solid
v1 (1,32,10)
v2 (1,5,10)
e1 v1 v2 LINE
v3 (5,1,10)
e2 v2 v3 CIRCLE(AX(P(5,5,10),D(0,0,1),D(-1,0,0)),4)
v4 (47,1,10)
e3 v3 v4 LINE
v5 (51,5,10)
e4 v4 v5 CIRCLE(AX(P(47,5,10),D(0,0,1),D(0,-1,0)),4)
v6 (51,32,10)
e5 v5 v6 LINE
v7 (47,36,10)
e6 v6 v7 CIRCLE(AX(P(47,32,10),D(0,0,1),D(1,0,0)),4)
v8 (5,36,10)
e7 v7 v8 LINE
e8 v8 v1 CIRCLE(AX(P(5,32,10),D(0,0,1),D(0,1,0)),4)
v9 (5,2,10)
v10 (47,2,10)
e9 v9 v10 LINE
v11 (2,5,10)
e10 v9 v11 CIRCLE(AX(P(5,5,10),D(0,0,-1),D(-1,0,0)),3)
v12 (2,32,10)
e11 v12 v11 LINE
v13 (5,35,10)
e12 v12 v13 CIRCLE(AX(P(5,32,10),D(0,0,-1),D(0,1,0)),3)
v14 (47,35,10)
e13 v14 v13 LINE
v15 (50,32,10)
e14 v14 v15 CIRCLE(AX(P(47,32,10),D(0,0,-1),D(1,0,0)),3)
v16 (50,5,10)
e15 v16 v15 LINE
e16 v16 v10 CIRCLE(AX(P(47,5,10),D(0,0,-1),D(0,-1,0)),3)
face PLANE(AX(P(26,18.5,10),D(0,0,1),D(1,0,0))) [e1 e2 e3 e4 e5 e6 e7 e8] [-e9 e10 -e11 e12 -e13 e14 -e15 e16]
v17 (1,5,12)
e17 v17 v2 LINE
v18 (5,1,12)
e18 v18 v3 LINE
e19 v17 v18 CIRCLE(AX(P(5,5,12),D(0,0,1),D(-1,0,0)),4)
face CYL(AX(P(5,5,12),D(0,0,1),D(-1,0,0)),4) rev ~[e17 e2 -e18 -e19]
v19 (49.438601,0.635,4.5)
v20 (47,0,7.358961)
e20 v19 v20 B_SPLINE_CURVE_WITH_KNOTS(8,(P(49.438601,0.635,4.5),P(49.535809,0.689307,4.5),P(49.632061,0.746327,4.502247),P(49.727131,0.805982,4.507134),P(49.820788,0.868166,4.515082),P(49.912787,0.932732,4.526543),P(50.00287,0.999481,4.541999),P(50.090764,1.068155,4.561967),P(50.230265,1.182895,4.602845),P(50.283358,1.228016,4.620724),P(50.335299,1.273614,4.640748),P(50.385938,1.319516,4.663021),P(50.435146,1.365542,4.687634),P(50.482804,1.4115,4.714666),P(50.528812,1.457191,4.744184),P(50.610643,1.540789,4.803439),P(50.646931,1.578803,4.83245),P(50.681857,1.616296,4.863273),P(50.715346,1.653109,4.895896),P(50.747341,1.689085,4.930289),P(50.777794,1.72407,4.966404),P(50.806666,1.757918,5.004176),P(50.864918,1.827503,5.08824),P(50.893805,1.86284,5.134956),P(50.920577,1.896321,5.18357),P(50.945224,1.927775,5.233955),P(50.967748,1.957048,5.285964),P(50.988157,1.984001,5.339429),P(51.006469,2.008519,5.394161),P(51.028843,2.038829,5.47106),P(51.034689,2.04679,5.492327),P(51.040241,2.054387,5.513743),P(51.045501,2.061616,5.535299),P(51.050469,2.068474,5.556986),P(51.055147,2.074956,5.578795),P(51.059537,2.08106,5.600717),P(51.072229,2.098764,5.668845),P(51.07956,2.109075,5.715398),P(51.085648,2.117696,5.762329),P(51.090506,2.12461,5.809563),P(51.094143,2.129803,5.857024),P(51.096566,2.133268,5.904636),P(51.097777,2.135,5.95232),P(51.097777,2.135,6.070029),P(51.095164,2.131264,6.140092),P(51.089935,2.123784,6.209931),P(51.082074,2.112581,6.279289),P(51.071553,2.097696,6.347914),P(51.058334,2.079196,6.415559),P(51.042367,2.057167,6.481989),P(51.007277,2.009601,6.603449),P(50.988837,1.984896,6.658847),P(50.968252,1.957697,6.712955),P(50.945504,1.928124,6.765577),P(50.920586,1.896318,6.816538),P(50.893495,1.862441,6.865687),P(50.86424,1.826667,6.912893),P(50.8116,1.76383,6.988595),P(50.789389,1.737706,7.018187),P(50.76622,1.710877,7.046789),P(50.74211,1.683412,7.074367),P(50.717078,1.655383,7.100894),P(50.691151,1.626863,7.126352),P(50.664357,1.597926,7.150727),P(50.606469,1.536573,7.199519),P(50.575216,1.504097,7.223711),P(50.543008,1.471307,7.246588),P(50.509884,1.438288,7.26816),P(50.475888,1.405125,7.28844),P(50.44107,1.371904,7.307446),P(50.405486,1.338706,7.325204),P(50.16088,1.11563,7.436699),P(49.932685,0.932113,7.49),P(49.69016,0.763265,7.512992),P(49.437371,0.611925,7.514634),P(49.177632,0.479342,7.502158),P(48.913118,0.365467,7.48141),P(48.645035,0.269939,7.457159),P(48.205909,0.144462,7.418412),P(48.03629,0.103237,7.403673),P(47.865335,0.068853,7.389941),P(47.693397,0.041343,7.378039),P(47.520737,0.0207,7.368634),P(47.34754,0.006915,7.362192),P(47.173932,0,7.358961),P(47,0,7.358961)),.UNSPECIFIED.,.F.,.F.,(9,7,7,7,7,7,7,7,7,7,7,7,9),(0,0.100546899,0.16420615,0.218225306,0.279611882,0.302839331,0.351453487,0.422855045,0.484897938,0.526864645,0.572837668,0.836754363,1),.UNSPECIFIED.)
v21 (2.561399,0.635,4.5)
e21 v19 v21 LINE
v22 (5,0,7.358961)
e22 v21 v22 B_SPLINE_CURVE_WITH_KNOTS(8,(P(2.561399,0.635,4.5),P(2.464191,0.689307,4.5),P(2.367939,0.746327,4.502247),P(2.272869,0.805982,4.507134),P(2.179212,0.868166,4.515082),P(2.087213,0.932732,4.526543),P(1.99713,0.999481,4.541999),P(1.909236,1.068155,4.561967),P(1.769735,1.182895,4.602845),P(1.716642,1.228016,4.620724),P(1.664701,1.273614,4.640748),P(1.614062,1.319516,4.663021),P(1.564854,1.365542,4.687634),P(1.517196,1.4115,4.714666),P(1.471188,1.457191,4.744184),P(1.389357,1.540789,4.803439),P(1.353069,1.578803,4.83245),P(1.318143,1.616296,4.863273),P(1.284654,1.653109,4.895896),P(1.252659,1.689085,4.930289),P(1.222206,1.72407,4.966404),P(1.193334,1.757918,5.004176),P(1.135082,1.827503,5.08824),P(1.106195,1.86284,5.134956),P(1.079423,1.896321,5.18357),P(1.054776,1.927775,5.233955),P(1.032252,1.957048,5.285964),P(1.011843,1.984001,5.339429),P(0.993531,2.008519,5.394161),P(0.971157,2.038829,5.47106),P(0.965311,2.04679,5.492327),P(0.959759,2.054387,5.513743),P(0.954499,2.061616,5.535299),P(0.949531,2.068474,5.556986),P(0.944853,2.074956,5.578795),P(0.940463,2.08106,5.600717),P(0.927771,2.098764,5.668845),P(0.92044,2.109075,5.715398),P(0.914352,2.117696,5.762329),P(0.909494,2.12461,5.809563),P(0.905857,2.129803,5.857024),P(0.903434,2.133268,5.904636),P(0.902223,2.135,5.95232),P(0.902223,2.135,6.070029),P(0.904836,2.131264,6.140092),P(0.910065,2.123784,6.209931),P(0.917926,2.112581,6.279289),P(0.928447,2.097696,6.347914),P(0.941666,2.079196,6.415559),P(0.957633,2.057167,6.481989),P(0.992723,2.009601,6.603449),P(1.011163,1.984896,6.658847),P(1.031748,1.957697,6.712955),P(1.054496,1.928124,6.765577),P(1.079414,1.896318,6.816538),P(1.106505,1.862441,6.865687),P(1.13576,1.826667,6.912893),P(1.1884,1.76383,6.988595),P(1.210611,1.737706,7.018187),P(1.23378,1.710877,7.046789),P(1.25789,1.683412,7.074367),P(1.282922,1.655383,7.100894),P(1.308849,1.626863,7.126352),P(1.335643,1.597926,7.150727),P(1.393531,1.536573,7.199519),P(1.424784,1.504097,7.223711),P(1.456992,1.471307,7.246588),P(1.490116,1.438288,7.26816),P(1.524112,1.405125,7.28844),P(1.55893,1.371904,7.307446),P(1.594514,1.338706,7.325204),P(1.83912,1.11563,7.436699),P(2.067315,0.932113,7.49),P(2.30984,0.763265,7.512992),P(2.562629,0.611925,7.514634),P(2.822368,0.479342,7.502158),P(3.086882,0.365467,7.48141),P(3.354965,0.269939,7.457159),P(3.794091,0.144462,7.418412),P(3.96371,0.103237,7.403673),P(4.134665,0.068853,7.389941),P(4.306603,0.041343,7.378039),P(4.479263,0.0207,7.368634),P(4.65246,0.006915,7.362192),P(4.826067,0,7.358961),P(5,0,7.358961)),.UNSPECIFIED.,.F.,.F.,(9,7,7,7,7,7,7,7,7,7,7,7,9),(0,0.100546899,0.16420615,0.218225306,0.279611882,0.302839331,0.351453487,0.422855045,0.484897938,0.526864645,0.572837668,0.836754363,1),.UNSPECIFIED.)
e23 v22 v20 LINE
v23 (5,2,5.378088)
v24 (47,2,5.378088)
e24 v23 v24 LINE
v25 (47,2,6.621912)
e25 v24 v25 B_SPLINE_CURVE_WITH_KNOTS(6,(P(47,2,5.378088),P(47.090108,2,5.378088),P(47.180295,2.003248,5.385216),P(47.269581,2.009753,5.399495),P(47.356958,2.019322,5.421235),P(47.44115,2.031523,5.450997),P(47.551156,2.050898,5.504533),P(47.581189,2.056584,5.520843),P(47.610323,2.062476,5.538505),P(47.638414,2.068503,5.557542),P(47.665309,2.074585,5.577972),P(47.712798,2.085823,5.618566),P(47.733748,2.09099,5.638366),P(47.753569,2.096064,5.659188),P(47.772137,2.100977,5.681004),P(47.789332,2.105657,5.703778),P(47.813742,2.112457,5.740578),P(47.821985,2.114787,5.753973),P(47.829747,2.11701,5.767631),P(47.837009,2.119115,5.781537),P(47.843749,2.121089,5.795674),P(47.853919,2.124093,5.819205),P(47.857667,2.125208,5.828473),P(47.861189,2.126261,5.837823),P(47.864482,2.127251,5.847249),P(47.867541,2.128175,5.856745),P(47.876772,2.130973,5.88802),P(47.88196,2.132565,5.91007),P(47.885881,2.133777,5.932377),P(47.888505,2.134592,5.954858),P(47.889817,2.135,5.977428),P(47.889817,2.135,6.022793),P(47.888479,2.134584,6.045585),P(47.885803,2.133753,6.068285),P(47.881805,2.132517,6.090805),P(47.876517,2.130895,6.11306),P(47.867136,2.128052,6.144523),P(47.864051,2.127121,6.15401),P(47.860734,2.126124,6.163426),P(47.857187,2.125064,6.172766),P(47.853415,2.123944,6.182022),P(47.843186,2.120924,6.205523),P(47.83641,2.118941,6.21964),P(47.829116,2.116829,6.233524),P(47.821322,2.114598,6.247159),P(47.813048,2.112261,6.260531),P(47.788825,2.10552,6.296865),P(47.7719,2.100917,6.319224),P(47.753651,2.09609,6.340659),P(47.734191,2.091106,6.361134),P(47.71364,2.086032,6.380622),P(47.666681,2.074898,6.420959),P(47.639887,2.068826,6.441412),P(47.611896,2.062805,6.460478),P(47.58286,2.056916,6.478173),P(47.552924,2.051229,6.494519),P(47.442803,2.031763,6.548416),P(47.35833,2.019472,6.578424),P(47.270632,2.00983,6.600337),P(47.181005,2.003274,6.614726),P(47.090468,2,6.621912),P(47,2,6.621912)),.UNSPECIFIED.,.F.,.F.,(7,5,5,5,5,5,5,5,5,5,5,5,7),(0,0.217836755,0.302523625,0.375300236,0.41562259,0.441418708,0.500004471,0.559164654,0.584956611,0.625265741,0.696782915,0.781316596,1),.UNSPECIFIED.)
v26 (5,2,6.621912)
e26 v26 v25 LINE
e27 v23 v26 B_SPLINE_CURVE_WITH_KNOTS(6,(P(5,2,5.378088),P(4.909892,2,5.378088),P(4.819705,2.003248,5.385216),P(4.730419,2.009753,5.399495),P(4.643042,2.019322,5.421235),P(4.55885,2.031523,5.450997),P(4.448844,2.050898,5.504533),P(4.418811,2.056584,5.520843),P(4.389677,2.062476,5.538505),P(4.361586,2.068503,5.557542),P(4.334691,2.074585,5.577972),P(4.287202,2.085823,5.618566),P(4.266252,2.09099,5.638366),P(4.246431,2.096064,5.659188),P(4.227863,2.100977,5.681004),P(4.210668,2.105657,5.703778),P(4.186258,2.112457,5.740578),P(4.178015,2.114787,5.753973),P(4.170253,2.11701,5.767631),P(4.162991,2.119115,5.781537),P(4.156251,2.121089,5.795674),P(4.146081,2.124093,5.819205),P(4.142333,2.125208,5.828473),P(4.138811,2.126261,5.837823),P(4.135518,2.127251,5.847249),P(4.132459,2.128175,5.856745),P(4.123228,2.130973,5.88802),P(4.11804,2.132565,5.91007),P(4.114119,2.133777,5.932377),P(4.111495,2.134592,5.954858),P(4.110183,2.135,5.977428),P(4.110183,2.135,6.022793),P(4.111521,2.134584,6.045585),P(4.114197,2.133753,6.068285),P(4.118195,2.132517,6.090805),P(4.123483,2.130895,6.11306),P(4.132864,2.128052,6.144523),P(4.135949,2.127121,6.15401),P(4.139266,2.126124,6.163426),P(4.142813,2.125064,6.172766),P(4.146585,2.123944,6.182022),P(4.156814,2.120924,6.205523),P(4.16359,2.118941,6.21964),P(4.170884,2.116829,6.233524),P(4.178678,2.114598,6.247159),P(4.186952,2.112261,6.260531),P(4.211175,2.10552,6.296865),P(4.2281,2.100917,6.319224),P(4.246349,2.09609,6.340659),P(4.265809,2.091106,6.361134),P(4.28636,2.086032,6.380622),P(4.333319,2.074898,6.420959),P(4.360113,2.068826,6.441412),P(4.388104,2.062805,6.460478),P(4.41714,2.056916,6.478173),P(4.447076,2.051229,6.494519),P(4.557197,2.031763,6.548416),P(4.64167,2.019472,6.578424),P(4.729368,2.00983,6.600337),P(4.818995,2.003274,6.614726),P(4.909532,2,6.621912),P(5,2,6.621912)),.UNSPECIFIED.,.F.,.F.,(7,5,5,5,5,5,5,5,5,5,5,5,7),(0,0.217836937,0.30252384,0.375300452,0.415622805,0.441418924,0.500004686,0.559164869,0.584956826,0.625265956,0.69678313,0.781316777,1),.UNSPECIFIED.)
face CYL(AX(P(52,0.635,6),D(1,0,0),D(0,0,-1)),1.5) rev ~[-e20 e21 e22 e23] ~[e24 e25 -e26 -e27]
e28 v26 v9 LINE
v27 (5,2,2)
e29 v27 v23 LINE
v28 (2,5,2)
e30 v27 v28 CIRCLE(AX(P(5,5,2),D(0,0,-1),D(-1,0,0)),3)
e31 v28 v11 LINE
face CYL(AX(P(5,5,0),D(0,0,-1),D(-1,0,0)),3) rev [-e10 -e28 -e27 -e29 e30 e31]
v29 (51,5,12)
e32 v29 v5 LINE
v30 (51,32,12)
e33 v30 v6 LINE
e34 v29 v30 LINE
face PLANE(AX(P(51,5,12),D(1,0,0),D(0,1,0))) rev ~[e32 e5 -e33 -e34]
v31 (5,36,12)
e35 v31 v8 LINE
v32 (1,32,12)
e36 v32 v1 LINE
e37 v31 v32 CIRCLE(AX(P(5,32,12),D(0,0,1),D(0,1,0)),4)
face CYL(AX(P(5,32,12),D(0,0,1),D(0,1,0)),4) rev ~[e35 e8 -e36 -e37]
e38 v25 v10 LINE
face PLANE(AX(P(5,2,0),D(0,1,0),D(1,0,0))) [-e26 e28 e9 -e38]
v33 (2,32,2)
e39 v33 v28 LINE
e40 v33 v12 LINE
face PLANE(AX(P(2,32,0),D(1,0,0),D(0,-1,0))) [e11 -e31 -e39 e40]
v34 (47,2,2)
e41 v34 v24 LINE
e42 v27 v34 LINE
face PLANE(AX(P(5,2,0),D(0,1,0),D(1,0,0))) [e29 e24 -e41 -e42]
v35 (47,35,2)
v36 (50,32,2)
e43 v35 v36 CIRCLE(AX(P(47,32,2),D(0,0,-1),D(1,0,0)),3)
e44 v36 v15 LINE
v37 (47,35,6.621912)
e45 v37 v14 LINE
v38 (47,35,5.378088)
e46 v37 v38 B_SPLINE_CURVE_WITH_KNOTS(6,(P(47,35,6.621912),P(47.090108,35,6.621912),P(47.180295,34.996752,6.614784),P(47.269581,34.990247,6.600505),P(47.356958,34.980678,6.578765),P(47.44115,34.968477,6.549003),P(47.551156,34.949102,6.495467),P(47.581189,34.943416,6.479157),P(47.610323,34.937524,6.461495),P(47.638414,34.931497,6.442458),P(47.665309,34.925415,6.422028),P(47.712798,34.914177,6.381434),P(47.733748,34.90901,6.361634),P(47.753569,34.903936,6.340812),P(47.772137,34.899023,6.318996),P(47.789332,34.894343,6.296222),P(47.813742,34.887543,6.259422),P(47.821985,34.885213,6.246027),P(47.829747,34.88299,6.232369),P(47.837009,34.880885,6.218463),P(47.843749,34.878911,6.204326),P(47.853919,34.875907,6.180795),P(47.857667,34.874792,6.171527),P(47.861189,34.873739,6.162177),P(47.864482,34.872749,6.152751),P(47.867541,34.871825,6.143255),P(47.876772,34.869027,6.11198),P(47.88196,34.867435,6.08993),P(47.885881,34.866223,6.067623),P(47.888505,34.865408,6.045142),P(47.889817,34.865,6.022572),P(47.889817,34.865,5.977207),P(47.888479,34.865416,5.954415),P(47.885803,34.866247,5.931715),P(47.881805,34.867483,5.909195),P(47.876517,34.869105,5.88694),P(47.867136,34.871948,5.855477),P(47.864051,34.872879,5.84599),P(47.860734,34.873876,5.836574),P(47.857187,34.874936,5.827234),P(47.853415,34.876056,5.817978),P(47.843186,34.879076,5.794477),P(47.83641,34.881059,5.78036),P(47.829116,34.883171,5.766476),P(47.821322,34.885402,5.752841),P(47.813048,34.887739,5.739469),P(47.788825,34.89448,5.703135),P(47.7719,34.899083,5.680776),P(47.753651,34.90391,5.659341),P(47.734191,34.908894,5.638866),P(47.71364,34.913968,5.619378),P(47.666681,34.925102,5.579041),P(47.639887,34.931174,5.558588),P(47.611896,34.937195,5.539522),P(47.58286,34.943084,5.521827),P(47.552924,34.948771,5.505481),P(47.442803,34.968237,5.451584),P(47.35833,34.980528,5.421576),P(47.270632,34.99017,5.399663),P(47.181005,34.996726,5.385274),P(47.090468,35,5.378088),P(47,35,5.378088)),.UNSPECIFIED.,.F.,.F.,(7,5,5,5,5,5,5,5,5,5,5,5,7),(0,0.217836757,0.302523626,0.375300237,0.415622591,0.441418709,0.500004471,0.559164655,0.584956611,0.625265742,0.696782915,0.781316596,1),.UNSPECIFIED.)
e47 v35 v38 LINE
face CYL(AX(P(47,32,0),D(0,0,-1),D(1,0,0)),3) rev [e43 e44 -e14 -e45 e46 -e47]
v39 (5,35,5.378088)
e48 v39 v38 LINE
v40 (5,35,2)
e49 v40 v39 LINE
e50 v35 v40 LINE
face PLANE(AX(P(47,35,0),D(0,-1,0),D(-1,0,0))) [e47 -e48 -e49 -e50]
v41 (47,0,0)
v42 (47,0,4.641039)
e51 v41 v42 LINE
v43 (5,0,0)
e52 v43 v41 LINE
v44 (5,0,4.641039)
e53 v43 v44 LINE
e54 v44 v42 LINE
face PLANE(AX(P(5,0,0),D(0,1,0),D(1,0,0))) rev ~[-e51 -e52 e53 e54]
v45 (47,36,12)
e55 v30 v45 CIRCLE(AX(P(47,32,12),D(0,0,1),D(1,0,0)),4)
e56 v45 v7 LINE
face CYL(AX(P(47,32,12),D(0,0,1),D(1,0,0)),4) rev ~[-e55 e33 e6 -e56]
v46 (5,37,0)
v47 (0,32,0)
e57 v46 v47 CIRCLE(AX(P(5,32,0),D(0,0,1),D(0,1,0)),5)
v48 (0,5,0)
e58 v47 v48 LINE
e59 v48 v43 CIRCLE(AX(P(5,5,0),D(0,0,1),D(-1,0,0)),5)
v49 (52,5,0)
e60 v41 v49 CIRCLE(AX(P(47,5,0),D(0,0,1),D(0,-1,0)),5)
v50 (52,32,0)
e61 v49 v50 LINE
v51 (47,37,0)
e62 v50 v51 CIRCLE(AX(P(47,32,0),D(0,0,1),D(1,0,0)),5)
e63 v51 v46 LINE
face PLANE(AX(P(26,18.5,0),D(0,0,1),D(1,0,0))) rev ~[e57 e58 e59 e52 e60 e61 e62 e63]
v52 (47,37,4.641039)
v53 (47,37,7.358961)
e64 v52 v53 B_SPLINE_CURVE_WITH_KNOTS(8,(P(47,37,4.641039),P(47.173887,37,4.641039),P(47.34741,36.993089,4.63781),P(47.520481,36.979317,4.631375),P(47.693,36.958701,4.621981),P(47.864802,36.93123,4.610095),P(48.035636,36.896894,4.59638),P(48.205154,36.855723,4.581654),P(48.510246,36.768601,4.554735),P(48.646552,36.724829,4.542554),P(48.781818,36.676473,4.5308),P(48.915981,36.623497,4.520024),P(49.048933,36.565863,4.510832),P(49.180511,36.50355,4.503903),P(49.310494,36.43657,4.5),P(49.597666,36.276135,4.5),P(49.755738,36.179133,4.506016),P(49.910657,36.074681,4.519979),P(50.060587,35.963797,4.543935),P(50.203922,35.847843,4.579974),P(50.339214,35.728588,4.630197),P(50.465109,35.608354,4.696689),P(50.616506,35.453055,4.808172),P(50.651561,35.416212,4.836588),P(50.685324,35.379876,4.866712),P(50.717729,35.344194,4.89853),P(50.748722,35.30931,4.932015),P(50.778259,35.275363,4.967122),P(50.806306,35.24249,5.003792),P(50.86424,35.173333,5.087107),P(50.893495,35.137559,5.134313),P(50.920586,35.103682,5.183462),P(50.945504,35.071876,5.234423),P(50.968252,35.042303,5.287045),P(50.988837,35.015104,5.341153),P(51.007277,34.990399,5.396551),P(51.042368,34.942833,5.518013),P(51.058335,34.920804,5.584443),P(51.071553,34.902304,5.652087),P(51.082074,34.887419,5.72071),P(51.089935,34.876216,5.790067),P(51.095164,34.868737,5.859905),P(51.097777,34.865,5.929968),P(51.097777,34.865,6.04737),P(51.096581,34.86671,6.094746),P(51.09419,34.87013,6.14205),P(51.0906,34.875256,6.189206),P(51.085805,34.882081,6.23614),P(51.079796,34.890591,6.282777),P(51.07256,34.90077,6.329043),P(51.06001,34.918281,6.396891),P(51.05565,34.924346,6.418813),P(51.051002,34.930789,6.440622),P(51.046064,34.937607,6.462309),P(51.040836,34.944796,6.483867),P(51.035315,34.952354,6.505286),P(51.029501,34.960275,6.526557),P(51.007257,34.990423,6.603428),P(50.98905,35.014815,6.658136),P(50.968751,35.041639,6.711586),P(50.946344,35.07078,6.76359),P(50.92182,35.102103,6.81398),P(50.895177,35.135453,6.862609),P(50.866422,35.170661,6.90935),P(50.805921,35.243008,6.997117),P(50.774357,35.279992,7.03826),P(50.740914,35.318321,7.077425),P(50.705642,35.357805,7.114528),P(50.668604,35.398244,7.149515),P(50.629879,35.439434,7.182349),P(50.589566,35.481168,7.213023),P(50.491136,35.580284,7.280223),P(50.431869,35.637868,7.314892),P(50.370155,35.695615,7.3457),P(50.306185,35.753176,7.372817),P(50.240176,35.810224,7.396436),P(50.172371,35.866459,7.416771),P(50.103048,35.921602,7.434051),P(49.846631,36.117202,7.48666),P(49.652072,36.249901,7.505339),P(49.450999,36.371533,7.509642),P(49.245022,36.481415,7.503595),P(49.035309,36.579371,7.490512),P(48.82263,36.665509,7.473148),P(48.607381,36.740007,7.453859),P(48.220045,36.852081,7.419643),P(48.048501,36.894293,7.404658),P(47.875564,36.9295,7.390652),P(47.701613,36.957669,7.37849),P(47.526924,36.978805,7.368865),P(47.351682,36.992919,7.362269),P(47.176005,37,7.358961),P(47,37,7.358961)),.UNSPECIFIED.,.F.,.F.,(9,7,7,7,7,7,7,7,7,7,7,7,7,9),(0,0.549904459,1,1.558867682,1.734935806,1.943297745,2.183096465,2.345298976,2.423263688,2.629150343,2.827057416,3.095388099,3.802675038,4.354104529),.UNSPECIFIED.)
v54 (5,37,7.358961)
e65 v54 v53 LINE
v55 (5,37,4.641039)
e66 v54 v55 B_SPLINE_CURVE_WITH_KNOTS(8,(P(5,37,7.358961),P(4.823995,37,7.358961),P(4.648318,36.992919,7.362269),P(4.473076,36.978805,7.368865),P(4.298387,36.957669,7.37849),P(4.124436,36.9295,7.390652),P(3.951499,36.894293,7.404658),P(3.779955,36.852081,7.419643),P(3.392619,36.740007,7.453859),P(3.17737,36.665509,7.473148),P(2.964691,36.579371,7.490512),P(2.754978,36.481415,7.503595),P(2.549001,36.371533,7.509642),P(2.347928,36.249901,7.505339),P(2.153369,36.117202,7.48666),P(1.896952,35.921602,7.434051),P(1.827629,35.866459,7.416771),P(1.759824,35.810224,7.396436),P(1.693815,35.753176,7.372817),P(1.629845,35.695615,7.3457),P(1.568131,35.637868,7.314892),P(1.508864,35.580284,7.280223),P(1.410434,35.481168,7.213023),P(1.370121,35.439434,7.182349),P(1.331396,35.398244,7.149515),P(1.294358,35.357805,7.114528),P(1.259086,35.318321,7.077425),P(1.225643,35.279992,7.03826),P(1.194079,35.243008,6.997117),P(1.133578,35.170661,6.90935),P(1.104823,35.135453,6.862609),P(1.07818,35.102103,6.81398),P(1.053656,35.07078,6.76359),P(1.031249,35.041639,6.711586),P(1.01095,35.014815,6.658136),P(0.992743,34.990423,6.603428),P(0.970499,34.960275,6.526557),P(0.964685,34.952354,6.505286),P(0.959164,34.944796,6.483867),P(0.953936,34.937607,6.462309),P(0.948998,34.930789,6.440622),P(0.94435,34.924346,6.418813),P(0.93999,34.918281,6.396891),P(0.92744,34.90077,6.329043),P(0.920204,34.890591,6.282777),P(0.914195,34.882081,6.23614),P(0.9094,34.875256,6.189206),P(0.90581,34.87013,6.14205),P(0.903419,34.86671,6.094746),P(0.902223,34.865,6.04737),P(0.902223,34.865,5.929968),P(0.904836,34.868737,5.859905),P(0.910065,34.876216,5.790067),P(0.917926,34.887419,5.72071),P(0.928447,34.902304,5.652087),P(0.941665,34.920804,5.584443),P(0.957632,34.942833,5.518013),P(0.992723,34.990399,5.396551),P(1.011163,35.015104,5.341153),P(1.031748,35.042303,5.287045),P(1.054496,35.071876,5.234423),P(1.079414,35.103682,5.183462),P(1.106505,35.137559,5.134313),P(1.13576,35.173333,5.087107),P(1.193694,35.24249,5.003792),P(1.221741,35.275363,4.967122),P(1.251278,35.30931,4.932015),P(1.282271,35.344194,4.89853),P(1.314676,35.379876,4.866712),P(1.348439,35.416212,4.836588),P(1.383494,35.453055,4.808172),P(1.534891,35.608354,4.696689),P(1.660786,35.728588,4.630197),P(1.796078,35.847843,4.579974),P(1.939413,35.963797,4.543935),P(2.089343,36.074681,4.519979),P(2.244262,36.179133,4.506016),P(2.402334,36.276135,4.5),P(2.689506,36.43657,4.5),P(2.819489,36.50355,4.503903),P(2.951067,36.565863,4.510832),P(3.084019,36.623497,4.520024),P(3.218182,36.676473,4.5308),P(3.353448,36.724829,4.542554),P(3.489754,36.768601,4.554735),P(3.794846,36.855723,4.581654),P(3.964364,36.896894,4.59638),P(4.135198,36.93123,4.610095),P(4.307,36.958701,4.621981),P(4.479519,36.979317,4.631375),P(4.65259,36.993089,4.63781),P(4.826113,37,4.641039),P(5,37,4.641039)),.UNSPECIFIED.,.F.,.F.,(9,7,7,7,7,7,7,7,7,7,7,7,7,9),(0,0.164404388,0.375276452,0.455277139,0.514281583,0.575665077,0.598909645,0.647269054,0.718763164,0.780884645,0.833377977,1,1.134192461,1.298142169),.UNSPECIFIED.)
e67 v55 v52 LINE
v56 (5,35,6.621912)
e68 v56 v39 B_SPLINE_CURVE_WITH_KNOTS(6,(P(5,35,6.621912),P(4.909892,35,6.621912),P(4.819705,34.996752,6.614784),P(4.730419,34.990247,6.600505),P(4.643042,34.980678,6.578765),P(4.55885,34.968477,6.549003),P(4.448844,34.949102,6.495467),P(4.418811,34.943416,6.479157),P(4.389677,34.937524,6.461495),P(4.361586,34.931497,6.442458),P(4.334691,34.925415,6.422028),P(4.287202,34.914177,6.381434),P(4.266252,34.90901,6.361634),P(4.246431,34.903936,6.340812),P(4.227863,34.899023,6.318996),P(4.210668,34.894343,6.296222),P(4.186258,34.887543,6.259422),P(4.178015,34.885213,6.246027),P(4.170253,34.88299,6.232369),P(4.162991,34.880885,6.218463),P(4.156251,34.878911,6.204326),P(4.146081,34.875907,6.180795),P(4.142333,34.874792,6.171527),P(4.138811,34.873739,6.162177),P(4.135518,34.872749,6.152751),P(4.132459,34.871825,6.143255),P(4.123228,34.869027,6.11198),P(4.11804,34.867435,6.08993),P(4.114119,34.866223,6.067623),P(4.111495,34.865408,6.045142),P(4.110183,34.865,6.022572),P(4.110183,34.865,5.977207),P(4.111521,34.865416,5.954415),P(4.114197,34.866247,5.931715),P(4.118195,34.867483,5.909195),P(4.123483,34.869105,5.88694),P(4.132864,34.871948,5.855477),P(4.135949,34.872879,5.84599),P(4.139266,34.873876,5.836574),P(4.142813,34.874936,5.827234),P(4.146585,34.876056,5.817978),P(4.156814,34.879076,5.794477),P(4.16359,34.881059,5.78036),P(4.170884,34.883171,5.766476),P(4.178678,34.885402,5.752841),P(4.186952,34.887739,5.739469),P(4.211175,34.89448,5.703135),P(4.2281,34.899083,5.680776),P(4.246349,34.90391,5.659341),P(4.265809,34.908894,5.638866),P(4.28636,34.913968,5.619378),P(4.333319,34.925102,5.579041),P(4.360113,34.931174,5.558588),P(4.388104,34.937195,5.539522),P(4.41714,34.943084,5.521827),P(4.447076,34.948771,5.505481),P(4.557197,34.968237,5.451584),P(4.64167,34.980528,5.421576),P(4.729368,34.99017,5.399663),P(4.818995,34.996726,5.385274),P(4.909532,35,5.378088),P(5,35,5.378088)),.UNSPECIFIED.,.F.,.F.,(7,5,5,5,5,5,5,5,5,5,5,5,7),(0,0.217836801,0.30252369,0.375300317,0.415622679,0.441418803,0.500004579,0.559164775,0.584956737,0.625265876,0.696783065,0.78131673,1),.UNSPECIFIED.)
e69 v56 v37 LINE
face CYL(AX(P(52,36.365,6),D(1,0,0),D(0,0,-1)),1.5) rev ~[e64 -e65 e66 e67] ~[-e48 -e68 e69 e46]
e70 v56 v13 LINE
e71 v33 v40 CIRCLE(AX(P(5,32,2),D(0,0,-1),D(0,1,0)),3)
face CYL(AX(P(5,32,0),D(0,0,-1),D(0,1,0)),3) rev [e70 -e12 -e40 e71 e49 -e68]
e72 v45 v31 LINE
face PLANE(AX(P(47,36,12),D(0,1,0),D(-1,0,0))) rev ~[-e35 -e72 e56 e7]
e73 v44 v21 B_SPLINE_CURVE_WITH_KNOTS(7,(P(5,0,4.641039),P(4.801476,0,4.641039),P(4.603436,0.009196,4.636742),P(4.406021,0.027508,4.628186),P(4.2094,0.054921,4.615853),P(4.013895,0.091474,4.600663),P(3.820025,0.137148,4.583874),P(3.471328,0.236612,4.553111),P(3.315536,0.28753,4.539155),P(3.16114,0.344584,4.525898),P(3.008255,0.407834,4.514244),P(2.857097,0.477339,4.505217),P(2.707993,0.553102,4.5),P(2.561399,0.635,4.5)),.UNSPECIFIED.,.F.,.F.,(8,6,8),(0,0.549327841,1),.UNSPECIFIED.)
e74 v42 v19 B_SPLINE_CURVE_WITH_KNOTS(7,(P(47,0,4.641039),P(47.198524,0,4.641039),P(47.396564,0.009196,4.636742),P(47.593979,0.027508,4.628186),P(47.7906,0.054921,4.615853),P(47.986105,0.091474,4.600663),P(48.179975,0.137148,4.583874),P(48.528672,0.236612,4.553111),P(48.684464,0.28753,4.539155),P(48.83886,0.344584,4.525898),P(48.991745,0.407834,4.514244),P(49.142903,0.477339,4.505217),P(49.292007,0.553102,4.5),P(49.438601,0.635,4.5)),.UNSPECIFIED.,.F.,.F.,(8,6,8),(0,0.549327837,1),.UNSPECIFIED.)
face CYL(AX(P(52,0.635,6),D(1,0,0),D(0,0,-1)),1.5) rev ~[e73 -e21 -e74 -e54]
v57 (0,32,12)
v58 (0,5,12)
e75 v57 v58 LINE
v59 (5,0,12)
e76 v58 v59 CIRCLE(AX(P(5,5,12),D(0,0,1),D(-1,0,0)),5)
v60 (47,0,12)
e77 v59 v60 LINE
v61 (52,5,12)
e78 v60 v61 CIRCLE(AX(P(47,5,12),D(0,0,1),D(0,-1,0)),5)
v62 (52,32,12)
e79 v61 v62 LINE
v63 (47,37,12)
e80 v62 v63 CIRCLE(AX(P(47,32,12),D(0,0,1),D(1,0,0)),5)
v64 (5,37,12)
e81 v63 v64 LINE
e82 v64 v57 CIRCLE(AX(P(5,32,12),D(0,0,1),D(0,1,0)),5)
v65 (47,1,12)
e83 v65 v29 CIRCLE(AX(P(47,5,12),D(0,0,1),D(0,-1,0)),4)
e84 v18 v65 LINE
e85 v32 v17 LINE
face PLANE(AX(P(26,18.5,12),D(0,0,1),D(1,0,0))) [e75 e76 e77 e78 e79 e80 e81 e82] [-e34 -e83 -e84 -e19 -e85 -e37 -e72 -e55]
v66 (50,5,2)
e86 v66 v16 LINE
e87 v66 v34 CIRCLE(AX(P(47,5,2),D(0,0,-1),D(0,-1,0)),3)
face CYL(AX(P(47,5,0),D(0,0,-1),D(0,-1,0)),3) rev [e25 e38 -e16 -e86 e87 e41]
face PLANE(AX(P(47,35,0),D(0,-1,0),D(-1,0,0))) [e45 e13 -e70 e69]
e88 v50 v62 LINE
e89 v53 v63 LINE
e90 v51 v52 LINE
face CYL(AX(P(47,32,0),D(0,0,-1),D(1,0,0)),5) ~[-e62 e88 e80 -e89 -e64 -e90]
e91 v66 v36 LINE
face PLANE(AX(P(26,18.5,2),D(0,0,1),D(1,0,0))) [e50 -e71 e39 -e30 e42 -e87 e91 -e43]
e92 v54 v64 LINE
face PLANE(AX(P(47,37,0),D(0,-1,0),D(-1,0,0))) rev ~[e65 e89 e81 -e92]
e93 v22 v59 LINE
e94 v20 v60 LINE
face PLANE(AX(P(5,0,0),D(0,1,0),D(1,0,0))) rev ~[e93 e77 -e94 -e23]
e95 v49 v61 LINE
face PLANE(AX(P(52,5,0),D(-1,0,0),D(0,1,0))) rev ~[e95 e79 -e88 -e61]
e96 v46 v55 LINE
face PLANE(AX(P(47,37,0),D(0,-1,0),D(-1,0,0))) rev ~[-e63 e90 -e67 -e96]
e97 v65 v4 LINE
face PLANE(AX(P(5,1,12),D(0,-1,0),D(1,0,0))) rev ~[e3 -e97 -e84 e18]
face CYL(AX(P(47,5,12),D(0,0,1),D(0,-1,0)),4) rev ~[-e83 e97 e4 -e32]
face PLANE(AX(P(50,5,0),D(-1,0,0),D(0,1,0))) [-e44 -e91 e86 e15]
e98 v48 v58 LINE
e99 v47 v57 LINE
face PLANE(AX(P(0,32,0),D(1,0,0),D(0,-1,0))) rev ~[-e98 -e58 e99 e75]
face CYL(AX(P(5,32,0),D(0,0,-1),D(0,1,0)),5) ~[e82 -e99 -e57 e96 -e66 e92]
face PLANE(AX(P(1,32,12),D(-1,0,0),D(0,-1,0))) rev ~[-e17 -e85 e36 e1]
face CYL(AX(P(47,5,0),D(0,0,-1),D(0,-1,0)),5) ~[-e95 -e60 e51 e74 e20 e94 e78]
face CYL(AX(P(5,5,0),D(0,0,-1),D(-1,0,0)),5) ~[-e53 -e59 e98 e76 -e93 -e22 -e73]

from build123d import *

# Parameters (mm, degrees)
BOSS_EXTRU_1_DEPTH      = 12
COQUE5_T                = -2
ENL_V_MAT_EXTRU_1_DEPTH = 2
ESQUISSE7_R             = 1.5
ENL_V_MAT_EXTRU_2_DEPTH = 65.93843238
ESQUISSE8_R             = 1.5
ENL_V_MAT_EXTRU_3_DEPTH = 65.938432536


with BuildPart() as part:
    # Esquisse1 → Boss.-Extru.1 (new body)
    with BuildSketch(Plane.XY):
        with BuildLine():
            Line((5, 0), (47, 0))
            ThreePointArc((47, 0), (50.535533906, 1.464466094), (52, 5))
            Line((52, 5), (52, 32))
            ThreePointArc((52, 32), (50.535533906, 35.535533906), (47, 37))
            Line((47, 37), (5, 37))
            ThreePointArc((5, 37), (1.464466094, 35.535533906), (0, 32))
            Line((0, 32), (0, 5))
            ThreePointArc((0, 5), (1.464466094, 1.464466094), (5, 0))
        make_face()
    extrude(amount=BOSS_EXTRU_1_DEPTH)

    # Coque5
    coque5_openings = [part.faces().sort_by_distance(p)[0] for p in [
        (26, 18.5, 12),
    ]]
    offset(amount=COQUE5_T, openings=coque5_openings, kind=Kind.INTERSECTION)

    # Esquisse3 → Enlèv. mat.-Extru.1 (cut)
    with BuildSketch(Plane.XY.offset(12)):
        with BuildLine():
            ThreePointArc((51, 32), (49.828427125, 34.828427125), (47, 36))
            Line((47, 36), (5, 36))
            ThreePointArc((5, 36), (2.171572875, 34.828427125), (1, 32))
            Line((1, 32), (1, 5))
            ThreePointArc((1, 5), (2.171572875, 2.171572875), (5, 1))
            Line((5, 1), (47, 1))
            ThreePointArc((47, 1), (49.828427125, 2.171572875), (51, 5))
            Line((51, 5), (51, 32))
        make_face()
    extrude(amount=-ENL_V_MAT_EXTRU_1_DEPTH, mode=Mode.SUBTRACT)

    # Esquisse7 → Enlèv. mat.-Extru.2 (cut, through all)
    with BuildSketch(Plane(origin=(52, 0, 0), x_dir=(0, 0, -1), z_dir=(1, 0, 0))):
        with Locations((-6, 36.365)):
            Circle(ESQUISSE7_R)
    extrude(amount=-ENL_V_MAT_EXTRU_2_DEPTH, mode=Mode.SUBTRACT)

    # Esquisse8 → Enlèv. mat.-Extru.3 (cut, through all)
    with BuildSketch(Plane(origin=(52, 0, 0), x_dir=(0, 0, -1), z_dir=(1, 0, 0))):
        with Locations((-6, 0.635)):
            Circle(ESQUISSE8_R)
    extrude(amount=-ENL_V_MAT_EXTRU_3_DEPTH, mode=Mode.SUBTRACT)


solid = part.part
